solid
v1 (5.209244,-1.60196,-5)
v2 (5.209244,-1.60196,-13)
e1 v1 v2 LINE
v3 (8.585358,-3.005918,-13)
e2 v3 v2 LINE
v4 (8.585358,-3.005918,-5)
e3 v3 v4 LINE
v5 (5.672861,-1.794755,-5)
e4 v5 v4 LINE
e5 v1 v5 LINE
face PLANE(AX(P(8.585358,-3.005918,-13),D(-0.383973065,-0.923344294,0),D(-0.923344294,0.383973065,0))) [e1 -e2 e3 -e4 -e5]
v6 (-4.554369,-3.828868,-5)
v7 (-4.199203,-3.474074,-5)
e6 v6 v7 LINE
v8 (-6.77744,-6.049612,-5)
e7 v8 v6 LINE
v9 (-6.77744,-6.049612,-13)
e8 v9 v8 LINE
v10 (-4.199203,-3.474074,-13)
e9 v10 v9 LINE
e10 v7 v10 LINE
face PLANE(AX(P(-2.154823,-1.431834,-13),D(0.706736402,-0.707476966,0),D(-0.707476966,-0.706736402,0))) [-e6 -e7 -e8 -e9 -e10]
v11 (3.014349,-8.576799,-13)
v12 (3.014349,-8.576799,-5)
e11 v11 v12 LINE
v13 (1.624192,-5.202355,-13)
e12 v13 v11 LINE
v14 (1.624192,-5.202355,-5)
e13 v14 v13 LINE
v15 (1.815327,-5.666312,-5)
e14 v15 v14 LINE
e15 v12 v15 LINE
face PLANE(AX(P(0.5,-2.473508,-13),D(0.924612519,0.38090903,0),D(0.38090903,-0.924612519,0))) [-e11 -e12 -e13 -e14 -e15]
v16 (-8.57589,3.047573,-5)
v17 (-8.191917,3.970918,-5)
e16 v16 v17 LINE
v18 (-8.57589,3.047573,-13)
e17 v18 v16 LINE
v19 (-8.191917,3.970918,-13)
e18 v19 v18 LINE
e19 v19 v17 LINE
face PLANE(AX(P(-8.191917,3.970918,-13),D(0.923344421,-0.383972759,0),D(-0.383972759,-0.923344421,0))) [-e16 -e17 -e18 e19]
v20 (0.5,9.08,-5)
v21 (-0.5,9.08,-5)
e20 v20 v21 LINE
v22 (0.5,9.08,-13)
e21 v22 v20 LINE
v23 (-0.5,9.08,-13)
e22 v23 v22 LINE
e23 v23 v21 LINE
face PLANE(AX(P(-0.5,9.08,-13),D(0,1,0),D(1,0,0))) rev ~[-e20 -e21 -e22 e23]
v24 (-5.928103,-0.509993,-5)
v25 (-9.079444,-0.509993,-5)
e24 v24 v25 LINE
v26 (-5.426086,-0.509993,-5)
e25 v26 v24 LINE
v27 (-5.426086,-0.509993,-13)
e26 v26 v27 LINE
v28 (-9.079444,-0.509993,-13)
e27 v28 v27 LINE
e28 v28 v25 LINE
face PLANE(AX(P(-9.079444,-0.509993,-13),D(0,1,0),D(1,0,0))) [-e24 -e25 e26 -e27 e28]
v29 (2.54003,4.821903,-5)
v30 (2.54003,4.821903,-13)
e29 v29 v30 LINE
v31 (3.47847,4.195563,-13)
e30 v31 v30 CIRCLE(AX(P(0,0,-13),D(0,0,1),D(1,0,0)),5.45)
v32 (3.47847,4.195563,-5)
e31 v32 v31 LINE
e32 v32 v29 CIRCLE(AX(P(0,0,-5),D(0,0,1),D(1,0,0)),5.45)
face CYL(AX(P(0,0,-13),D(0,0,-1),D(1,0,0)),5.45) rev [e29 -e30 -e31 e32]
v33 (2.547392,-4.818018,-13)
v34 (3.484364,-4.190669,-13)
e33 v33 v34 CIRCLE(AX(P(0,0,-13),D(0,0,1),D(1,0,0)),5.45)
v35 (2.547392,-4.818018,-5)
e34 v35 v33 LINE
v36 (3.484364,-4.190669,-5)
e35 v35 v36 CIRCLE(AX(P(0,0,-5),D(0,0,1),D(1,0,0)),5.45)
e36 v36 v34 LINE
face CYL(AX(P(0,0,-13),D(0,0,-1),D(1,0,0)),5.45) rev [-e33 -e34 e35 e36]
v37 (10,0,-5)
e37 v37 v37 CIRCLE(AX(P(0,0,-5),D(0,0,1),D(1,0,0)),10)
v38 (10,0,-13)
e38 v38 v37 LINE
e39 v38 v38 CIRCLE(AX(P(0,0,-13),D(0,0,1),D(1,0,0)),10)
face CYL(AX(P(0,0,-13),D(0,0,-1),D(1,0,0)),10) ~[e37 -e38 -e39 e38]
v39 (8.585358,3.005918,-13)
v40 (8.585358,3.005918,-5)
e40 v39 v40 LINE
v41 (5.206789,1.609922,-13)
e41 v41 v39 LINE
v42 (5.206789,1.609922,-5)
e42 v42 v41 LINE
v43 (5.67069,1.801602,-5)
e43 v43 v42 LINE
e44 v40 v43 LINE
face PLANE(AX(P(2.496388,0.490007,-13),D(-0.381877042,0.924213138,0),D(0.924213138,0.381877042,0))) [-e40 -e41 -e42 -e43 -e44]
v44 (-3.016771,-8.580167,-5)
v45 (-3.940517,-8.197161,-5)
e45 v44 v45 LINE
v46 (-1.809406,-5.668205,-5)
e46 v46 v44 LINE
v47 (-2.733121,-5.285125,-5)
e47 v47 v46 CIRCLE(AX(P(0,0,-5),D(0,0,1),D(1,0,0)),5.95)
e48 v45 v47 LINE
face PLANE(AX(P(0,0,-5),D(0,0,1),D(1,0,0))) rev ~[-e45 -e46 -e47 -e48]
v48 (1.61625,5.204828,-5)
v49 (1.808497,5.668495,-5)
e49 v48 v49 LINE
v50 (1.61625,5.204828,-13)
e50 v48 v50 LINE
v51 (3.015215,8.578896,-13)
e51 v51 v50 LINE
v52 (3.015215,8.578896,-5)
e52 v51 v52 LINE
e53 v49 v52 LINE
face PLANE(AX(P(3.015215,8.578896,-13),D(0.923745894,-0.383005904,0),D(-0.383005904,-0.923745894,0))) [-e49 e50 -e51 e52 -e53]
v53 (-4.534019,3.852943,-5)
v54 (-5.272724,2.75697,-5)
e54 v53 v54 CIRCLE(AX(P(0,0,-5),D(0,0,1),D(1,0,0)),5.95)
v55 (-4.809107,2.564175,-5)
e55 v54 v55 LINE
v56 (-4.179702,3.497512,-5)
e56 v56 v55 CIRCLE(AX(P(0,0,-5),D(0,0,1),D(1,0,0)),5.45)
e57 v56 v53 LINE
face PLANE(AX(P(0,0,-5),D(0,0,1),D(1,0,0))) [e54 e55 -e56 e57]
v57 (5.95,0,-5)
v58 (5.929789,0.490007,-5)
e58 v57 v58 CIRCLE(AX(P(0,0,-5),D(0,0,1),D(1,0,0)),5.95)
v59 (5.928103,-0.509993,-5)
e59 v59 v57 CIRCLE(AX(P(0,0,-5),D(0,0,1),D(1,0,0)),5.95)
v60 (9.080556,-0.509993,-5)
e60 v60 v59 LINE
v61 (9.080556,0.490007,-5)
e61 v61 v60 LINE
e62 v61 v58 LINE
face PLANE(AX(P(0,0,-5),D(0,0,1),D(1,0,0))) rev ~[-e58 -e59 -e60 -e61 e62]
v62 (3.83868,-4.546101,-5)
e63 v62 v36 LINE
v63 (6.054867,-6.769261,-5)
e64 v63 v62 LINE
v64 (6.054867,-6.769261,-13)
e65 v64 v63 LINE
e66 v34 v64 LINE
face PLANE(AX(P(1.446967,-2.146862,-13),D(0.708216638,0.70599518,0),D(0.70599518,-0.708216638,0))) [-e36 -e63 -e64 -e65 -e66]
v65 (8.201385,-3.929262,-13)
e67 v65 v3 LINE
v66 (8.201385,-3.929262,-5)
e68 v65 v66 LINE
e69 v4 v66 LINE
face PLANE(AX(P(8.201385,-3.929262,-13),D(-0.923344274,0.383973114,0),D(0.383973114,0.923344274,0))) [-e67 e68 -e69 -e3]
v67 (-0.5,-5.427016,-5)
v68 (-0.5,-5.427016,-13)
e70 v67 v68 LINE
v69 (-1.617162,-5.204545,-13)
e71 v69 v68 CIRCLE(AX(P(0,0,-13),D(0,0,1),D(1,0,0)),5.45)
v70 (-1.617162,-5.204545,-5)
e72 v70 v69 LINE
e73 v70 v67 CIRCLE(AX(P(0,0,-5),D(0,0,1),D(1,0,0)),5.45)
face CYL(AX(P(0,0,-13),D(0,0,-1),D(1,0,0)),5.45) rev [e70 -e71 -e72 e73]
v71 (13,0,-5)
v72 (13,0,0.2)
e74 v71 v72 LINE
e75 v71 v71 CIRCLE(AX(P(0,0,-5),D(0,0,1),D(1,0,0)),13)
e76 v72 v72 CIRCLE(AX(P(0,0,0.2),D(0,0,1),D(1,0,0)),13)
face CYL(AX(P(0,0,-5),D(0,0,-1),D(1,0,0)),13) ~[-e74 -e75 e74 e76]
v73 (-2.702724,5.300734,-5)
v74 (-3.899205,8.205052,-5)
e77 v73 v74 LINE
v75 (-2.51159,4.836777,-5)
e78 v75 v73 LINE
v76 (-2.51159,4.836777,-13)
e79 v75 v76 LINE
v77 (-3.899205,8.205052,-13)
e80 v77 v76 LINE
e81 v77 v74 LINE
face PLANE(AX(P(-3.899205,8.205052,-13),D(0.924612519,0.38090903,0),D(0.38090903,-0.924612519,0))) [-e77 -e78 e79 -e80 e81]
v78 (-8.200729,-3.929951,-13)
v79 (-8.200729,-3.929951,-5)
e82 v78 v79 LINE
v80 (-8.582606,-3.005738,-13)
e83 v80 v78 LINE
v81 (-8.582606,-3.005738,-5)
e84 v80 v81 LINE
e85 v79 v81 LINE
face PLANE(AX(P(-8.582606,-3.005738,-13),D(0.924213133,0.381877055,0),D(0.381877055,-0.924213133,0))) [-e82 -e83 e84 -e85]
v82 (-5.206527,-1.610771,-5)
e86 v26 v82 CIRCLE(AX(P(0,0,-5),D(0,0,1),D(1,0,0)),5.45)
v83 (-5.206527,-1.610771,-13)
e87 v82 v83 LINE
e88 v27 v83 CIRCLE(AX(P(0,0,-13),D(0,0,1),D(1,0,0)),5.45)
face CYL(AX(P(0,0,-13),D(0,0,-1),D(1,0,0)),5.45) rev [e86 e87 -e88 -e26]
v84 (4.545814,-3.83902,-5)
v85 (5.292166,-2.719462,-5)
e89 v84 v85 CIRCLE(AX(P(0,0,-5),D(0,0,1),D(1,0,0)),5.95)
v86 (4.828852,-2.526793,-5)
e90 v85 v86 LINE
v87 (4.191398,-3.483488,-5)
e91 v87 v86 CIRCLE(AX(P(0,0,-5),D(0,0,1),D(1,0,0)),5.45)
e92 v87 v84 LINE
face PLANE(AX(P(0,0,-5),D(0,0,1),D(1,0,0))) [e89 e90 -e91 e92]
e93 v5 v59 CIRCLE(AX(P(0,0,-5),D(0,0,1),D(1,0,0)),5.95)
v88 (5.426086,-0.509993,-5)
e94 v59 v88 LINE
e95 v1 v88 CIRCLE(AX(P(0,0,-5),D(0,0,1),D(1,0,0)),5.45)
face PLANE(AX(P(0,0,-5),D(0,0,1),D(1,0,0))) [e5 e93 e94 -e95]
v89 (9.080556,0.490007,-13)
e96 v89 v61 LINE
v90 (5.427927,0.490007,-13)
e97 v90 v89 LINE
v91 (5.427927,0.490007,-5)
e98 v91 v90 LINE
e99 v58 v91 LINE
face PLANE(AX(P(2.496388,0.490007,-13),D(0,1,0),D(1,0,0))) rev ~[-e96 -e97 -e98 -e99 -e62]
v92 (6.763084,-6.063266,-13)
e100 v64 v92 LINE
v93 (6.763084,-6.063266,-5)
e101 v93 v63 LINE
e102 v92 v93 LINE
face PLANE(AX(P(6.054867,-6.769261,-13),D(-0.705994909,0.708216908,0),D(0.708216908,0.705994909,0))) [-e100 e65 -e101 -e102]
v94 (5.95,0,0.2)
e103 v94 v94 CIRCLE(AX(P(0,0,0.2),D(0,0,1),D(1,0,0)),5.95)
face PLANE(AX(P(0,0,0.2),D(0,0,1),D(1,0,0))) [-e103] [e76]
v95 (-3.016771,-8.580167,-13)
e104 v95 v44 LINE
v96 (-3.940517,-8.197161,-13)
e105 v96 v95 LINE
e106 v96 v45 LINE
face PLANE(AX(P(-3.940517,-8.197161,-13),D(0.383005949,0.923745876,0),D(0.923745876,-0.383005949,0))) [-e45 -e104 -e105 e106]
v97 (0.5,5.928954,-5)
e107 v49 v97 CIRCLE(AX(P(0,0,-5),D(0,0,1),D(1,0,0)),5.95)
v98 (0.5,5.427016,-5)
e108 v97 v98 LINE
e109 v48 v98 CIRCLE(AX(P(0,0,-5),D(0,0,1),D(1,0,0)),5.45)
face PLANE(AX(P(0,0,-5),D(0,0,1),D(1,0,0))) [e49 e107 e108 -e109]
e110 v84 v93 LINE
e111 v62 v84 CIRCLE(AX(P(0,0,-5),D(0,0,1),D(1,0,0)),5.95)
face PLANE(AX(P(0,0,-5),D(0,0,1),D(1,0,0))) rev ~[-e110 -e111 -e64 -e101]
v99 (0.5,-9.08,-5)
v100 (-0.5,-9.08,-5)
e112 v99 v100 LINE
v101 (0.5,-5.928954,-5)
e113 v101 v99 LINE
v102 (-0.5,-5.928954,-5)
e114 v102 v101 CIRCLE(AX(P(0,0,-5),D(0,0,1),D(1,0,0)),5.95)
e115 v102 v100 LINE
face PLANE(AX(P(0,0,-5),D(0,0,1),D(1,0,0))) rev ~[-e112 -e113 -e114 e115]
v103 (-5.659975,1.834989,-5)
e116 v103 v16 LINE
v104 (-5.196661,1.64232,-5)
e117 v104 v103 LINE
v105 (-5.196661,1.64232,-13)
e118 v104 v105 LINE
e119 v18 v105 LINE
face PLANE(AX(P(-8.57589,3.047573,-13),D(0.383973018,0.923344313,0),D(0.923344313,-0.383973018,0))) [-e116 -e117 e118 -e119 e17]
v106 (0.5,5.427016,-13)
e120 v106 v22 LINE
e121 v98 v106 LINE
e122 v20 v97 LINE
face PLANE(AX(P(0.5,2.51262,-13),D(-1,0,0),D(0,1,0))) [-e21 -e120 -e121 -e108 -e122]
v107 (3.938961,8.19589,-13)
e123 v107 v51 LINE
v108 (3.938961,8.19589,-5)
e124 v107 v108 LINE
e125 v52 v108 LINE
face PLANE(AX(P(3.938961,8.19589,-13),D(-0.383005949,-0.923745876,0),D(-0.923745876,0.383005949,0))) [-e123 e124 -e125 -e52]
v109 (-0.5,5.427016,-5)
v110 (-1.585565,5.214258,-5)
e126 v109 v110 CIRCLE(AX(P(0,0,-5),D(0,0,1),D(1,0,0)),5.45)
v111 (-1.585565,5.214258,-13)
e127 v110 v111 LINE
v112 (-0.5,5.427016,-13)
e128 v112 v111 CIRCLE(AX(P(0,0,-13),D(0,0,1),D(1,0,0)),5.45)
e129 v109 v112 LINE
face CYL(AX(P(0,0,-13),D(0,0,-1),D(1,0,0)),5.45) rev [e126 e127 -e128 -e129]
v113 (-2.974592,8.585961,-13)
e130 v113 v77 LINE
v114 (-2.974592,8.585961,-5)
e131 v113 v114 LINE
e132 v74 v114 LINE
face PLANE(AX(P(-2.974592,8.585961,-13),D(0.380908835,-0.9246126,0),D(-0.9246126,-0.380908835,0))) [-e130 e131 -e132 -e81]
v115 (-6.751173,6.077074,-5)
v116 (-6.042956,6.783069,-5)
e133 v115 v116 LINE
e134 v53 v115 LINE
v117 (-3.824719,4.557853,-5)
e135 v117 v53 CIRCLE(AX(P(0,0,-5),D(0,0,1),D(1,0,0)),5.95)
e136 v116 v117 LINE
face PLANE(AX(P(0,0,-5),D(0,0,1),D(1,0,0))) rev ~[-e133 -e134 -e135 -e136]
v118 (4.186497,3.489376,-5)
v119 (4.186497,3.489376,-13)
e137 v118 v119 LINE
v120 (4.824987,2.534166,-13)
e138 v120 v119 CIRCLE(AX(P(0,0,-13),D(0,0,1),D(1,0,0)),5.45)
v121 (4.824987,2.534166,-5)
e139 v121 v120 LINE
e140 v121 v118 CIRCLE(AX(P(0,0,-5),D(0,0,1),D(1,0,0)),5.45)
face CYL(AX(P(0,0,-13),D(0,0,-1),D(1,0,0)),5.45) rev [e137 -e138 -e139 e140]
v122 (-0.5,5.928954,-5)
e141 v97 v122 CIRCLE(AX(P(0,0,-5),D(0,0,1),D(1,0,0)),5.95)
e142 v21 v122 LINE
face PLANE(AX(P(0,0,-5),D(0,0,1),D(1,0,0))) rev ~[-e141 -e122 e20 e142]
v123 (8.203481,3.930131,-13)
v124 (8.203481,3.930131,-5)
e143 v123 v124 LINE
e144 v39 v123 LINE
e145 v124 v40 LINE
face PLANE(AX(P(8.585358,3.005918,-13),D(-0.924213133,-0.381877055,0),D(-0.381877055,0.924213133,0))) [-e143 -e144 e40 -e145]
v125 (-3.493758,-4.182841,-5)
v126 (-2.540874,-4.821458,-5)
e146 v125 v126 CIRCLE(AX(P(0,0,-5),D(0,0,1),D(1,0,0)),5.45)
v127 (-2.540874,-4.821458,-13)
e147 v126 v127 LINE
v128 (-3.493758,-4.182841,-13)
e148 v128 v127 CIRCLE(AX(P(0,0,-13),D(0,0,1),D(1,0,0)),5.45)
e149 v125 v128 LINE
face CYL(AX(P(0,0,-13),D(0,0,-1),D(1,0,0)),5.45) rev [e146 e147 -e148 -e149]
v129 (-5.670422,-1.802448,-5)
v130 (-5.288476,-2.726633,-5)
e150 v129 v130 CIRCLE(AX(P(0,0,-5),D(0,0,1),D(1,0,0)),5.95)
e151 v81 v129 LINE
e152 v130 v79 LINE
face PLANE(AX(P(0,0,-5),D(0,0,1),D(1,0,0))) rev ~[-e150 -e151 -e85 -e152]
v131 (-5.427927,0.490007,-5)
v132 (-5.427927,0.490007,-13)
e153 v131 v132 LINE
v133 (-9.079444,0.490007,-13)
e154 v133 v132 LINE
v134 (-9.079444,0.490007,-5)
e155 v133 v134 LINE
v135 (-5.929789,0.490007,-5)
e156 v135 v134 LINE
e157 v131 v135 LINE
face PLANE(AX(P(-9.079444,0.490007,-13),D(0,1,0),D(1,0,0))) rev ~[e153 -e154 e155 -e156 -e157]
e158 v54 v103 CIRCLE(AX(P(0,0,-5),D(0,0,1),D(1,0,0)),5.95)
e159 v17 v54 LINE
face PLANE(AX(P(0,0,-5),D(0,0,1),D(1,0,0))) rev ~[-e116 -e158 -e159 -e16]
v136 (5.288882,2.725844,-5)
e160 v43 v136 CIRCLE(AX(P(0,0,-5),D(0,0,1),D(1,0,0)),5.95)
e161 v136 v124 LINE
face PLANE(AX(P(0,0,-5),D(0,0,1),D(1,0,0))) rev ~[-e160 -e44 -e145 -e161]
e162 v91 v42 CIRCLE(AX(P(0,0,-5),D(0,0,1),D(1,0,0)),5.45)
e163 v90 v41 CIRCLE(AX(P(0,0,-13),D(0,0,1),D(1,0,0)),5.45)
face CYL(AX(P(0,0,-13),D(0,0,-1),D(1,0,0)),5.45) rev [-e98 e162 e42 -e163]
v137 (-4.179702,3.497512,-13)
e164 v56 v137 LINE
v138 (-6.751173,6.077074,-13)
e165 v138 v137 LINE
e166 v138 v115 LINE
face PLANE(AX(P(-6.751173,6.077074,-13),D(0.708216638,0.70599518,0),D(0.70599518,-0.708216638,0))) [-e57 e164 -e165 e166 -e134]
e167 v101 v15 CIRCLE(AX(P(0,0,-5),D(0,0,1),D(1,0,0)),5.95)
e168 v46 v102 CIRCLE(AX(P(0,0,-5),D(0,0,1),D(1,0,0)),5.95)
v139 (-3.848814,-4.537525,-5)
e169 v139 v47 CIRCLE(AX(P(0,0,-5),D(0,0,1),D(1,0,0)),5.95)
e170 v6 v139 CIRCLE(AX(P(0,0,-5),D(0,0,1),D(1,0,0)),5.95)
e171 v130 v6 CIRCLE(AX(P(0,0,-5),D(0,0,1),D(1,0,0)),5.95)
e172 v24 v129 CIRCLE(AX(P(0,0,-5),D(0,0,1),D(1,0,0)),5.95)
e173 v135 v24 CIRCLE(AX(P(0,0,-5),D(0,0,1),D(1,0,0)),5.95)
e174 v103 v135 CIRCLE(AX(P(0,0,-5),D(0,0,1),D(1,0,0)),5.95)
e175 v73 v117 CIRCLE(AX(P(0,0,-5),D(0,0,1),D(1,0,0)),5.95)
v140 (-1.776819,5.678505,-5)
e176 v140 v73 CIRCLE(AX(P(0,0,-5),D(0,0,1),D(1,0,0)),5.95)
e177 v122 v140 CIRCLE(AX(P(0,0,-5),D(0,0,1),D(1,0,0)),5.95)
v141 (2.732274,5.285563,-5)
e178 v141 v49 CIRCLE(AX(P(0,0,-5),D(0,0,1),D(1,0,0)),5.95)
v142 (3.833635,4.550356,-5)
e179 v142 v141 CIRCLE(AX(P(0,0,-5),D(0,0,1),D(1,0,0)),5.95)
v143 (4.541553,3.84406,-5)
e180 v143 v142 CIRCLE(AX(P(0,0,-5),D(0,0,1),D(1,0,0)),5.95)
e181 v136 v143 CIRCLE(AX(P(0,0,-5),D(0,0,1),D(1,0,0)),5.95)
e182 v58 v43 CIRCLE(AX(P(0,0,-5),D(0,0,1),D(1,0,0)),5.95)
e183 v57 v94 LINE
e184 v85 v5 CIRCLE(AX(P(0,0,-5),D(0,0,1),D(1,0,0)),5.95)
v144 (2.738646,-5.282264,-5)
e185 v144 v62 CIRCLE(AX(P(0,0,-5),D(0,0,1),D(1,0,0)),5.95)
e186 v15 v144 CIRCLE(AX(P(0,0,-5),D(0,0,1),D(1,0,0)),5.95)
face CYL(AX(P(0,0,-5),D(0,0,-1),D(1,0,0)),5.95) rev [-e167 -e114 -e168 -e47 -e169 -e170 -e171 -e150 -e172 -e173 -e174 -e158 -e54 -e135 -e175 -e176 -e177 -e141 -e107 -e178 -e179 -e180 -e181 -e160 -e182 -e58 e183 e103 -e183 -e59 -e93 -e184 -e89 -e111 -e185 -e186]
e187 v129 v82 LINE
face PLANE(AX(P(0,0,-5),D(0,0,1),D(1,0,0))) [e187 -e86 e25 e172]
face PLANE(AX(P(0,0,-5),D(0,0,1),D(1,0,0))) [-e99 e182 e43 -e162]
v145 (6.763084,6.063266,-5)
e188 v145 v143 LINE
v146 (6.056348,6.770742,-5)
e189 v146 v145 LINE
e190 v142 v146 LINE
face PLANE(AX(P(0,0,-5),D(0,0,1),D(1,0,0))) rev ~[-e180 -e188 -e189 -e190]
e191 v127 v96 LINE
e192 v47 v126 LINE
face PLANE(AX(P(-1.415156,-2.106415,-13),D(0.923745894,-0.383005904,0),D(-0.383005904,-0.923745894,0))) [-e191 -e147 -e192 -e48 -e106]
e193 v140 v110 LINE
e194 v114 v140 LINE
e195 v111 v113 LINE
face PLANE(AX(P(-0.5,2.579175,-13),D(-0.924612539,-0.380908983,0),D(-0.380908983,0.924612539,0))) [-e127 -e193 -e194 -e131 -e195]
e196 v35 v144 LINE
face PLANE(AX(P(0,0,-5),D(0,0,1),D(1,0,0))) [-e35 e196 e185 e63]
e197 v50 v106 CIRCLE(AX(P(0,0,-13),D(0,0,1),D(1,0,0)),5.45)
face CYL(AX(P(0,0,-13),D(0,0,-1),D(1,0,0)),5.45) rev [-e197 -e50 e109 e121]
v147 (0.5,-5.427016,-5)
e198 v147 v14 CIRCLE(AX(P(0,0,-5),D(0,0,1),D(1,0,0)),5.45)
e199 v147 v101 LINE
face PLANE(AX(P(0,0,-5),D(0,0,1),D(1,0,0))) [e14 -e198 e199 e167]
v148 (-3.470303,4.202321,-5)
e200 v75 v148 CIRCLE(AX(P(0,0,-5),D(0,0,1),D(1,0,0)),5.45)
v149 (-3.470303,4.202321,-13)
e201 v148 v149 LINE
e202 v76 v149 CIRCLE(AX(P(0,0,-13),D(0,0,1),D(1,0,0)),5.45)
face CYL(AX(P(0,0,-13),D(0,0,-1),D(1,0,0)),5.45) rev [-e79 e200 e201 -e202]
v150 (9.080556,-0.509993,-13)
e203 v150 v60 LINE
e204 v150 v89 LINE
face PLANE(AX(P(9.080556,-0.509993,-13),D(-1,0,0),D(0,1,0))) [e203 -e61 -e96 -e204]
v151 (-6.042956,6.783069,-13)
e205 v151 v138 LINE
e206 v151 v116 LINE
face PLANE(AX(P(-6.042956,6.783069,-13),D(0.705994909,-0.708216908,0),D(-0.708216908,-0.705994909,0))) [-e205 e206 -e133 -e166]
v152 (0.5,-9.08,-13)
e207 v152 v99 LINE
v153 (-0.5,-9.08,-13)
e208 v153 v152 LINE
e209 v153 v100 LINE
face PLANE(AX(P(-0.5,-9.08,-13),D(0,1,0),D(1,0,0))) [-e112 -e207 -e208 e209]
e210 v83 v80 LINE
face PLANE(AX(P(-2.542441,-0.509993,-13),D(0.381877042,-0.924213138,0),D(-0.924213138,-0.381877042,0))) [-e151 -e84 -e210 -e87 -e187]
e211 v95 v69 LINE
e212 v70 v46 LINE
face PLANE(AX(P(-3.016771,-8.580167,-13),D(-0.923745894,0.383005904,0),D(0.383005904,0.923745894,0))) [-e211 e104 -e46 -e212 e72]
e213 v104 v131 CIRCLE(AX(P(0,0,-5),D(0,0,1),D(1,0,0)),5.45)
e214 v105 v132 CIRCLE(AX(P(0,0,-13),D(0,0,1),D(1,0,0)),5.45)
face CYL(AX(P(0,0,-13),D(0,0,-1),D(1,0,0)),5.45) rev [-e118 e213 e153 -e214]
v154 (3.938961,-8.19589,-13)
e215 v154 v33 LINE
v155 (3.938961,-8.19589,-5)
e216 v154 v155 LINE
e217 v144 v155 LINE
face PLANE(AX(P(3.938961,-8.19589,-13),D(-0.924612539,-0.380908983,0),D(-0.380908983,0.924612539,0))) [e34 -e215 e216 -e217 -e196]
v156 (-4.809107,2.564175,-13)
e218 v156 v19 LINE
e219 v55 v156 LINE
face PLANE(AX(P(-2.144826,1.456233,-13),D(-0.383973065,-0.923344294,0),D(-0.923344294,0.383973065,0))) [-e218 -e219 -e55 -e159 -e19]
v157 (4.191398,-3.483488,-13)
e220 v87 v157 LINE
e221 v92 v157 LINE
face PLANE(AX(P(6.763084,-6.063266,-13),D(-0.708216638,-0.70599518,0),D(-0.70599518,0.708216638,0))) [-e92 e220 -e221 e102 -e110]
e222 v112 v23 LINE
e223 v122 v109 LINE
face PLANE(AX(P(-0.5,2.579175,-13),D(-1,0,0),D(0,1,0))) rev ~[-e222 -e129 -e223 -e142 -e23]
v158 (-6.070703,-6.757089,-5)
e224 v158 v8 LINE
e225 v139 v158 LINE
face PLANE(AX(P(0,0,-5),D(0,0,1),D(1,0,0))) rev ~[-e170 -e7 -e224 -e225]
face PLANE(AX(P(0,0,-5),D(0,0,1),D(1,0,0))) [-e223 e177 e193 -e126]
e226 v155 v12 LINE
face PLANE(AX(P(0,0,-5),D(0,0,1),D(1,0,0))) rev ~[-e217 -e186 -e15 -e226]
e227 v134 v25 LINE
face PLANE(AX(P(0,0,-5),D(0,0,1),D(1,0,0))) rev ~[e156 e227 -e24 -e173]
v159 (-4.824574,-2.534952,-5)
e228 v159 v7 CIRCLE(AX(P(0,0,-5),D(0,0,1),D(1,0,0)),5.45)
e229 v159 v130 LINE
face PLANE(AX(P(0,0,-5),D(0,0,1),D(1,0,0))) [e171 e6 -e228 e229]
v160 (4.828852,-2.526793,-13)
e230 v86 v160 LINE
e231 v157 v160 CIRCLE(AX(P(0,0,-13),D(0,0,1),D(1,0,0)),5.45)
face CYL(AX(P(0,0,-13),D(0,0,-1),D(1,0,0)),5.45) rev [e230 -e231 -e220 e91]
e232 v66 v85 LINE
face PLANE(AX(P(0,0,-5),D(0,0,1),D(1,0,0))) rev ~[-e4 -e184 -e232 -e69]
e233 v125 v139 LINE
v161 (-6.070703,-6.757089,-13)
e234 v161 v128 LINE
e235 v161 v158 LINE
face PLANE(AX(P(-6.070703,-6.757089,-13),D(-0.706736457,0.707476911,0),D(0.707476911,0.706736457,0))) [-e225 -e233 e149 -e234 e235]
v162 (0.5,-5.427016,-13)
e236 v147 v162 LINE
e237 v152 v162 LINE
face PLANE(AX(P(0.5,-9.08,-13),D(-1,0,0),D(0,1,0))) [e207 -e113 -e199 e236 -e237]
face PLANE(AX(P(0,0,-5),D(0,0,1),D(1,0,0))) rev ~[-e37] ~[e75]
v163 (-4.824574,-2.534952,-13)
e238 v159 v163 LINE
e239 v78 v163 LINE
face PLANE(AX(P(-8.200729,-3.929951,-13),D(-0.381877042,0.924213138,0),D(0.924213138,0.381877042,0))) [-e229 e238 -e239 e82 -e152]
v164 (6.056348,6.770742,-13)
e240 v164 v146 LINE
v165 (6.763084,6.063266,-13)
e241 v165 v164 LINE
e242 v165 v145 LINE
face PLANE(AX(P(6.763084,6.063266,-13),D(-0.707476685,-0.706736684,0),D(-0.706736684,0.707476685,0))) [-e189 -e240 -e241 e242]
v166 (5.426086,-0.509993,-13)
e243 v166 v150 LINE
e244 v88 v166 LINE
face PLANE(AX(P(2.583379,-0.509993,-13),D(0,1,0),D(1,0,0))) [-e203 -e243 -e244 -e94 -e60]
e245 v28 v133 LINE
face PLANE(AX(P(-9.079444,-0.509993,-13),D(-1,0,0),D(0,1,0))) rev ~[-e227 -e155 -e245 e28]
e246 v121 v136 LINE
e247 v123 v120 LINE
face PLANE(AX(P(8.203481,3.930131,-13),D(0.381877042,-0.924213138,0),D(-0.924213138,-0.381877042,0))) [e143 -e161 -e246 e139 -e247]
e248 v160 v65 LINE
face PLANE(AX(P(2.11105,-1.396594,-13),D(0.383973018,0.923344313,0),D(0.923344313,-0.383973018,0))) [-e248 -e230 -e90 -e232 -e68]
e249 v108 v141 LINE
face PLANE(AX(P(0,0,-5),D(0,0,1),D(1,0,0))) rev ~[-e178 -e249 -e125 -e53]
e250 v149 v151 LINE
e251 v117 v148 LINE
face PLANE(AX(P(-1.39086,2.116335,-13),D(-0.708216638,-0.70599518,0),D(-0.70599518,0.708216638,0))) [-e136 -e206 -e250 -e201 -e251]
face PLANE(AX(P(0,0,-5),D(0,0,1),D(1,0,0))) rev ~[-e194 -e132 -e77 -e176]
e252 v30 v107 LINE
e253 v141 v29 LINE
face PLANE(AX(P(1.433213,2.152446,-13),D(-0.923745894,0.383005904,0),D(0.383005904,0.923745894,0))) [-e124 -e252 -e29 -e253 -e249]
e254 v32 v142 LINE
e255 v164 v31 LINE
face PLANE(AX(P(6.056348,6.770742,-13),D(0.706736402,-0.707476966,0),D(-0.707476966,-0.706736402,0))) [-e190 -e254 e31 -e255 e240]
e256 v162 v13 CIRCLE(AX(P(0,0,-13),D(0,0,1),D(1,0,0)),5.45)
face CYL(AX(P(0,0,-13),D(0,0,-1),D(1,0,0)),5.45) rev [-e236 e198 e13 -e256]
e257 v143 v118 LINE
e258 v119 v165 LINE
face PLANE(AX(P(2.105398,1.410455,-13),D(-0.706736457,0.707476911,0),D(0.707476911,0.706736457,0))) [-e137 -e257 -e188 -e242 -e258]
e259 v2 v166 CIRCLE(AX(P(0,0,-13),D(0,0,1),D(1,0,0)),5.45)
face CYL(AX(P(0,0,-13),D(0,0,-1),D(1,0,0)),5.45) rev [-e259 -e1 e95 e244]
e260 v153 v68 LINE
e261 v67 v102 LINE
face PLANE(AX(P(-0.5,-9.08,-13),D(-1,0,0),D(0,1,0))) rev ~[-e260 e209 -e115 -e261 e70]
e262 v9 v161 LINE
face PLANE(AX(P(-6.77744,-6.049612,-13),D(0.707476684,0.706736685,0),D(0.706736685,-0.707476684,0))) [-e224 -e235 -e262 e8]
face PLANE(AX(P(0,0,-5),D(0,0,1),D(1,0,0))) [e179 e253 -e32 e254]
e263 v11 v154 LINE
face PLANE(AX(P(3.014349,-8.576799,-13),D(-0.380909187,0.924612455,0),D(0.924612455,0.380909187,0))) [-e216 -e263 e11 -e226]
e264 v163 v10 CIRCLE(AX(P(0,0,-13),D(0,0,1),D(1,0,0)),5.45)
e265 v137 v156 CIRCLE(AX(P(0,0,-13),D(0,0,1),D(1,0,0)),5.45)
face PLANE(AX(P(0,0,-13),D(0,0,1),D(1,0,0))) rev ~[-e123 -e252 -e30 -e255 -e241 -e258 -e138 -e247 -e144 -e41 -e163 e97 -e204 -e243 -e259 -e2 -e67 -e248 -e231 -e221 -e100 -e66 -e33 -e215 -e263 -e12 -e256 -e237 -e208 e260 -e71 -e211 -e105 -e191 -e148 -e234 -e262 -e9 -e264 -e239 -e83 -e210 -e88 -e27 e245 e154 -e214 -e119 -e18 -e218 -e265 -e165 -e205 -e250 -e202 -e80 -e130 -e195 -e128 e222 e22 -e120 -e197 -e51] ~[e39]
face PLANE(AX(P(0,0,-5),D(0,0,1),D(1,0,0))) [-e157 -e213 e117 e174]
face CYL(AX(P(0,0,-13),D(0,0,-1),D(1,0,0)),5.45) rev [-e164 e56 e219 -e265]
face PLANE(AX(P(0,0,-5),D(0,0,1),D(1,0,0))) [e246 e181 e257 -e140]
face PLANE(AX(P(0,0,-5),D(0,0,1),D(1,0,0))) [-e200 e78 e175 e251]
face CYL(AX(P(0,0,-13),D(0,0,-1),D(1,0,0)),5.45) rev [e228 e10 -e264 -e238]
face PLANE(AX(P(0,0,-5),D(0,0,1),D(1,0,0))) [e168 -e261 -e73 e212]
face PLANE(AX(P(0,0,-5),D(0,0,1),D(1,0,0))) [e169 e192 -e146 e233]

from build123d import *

# Parameters (mm, degrees)
SKETCH006_R   = 13
SKETCH006_R_2 = 5.95
PAD003_DEPTH  = 5.2
SKETCH_R      = 10
SKETCH_R_2    = 5.45
PAD_DEPTH     = 8
SKETCH002_W   = 1
SKETCH002_H   = 18.16
SKETCH002_W_2 = 18.16
SKETCH002_H_2 = 1
POCKET_DEPTH  = 13


with BuildPart() as linear_bearing_holder:
    # Sketch006 → Pad003 (new body)
    with BuildSketch(Plane.XY):
        Circle(SKETCH006_R)
        Circle(SKETCH006_R_2, mode=Mode.SUBTRACT)
    extrude(amount=PAD003_DEPTH)


with BuildPart() as linearbearingfusion:
    # Sketch → Pad (new body)
    with BuildSketch(Plane.XY):
        Circle(SKETCH_R)
        Circle(SKETCH_R_2, mode=Mode.SUBTRACT)
    extrude(amount=PAD_DEPTH)

    # Sketch002 → Pocket (cut)
    with BuildSketch(Plane.XY):
        Rectangle(SKETCH002_W, SKETCH002_H)
        Polygon((3.015215, 8.578896), (-3.940517, -8.197161), (-3.016771, -8.580167), (3.938961, 8.19589), align=None)
        Polygon((6.056348, 6.770742), (-6.77744, -6.049612), (-6.070703, -6.757089), (6.763084, 6.063266), align=None)
        Polygon((8.203481, 3.930131), (-8.582606, -3.005738), (-8.200729, -3.929951), (8.585358, 3.005918), align=None)
        with Locations((0.000556, -0.009993)):
            Rectangle(SKETCH002_W_2, SKETCH002_H_2)
        Polygon((8.585358, -3.005918), (-8.191917, 3.970918), (-8.57589, 3.047573), (8.201385, -3.929262), align=None)
        Polygon((6.763084, -6.063266), (-6.042956, 6.783069), (-6.751173, 6.077074), (6.054867, -6.769261), align=None)
        Polygon((3.938961, -8.19589), (-2.974592, 8.585961), (-3.899205, 8.205052), (3.014349, -8.576799), align=None)
    extrude(amount=POCKET_DEPTH, mode=Mode.SUBTRACT)


with BuildPart() as linearbearingfusion_1:
    # Body placement: moved
    add(linearbearingfusion.part.moved(Location((0, 0, -8))))

    # Fusion002: union linear_bearing_holder
    add(linear_bearing_holder.part)


with BuildPart() as linearbearingfusion_2:
    # Fusion002 placement: moved
    add(linearbearingfusion_1.part.moved(Location((0, 0, -5))))


solid = linearbearingfusion_2.part
